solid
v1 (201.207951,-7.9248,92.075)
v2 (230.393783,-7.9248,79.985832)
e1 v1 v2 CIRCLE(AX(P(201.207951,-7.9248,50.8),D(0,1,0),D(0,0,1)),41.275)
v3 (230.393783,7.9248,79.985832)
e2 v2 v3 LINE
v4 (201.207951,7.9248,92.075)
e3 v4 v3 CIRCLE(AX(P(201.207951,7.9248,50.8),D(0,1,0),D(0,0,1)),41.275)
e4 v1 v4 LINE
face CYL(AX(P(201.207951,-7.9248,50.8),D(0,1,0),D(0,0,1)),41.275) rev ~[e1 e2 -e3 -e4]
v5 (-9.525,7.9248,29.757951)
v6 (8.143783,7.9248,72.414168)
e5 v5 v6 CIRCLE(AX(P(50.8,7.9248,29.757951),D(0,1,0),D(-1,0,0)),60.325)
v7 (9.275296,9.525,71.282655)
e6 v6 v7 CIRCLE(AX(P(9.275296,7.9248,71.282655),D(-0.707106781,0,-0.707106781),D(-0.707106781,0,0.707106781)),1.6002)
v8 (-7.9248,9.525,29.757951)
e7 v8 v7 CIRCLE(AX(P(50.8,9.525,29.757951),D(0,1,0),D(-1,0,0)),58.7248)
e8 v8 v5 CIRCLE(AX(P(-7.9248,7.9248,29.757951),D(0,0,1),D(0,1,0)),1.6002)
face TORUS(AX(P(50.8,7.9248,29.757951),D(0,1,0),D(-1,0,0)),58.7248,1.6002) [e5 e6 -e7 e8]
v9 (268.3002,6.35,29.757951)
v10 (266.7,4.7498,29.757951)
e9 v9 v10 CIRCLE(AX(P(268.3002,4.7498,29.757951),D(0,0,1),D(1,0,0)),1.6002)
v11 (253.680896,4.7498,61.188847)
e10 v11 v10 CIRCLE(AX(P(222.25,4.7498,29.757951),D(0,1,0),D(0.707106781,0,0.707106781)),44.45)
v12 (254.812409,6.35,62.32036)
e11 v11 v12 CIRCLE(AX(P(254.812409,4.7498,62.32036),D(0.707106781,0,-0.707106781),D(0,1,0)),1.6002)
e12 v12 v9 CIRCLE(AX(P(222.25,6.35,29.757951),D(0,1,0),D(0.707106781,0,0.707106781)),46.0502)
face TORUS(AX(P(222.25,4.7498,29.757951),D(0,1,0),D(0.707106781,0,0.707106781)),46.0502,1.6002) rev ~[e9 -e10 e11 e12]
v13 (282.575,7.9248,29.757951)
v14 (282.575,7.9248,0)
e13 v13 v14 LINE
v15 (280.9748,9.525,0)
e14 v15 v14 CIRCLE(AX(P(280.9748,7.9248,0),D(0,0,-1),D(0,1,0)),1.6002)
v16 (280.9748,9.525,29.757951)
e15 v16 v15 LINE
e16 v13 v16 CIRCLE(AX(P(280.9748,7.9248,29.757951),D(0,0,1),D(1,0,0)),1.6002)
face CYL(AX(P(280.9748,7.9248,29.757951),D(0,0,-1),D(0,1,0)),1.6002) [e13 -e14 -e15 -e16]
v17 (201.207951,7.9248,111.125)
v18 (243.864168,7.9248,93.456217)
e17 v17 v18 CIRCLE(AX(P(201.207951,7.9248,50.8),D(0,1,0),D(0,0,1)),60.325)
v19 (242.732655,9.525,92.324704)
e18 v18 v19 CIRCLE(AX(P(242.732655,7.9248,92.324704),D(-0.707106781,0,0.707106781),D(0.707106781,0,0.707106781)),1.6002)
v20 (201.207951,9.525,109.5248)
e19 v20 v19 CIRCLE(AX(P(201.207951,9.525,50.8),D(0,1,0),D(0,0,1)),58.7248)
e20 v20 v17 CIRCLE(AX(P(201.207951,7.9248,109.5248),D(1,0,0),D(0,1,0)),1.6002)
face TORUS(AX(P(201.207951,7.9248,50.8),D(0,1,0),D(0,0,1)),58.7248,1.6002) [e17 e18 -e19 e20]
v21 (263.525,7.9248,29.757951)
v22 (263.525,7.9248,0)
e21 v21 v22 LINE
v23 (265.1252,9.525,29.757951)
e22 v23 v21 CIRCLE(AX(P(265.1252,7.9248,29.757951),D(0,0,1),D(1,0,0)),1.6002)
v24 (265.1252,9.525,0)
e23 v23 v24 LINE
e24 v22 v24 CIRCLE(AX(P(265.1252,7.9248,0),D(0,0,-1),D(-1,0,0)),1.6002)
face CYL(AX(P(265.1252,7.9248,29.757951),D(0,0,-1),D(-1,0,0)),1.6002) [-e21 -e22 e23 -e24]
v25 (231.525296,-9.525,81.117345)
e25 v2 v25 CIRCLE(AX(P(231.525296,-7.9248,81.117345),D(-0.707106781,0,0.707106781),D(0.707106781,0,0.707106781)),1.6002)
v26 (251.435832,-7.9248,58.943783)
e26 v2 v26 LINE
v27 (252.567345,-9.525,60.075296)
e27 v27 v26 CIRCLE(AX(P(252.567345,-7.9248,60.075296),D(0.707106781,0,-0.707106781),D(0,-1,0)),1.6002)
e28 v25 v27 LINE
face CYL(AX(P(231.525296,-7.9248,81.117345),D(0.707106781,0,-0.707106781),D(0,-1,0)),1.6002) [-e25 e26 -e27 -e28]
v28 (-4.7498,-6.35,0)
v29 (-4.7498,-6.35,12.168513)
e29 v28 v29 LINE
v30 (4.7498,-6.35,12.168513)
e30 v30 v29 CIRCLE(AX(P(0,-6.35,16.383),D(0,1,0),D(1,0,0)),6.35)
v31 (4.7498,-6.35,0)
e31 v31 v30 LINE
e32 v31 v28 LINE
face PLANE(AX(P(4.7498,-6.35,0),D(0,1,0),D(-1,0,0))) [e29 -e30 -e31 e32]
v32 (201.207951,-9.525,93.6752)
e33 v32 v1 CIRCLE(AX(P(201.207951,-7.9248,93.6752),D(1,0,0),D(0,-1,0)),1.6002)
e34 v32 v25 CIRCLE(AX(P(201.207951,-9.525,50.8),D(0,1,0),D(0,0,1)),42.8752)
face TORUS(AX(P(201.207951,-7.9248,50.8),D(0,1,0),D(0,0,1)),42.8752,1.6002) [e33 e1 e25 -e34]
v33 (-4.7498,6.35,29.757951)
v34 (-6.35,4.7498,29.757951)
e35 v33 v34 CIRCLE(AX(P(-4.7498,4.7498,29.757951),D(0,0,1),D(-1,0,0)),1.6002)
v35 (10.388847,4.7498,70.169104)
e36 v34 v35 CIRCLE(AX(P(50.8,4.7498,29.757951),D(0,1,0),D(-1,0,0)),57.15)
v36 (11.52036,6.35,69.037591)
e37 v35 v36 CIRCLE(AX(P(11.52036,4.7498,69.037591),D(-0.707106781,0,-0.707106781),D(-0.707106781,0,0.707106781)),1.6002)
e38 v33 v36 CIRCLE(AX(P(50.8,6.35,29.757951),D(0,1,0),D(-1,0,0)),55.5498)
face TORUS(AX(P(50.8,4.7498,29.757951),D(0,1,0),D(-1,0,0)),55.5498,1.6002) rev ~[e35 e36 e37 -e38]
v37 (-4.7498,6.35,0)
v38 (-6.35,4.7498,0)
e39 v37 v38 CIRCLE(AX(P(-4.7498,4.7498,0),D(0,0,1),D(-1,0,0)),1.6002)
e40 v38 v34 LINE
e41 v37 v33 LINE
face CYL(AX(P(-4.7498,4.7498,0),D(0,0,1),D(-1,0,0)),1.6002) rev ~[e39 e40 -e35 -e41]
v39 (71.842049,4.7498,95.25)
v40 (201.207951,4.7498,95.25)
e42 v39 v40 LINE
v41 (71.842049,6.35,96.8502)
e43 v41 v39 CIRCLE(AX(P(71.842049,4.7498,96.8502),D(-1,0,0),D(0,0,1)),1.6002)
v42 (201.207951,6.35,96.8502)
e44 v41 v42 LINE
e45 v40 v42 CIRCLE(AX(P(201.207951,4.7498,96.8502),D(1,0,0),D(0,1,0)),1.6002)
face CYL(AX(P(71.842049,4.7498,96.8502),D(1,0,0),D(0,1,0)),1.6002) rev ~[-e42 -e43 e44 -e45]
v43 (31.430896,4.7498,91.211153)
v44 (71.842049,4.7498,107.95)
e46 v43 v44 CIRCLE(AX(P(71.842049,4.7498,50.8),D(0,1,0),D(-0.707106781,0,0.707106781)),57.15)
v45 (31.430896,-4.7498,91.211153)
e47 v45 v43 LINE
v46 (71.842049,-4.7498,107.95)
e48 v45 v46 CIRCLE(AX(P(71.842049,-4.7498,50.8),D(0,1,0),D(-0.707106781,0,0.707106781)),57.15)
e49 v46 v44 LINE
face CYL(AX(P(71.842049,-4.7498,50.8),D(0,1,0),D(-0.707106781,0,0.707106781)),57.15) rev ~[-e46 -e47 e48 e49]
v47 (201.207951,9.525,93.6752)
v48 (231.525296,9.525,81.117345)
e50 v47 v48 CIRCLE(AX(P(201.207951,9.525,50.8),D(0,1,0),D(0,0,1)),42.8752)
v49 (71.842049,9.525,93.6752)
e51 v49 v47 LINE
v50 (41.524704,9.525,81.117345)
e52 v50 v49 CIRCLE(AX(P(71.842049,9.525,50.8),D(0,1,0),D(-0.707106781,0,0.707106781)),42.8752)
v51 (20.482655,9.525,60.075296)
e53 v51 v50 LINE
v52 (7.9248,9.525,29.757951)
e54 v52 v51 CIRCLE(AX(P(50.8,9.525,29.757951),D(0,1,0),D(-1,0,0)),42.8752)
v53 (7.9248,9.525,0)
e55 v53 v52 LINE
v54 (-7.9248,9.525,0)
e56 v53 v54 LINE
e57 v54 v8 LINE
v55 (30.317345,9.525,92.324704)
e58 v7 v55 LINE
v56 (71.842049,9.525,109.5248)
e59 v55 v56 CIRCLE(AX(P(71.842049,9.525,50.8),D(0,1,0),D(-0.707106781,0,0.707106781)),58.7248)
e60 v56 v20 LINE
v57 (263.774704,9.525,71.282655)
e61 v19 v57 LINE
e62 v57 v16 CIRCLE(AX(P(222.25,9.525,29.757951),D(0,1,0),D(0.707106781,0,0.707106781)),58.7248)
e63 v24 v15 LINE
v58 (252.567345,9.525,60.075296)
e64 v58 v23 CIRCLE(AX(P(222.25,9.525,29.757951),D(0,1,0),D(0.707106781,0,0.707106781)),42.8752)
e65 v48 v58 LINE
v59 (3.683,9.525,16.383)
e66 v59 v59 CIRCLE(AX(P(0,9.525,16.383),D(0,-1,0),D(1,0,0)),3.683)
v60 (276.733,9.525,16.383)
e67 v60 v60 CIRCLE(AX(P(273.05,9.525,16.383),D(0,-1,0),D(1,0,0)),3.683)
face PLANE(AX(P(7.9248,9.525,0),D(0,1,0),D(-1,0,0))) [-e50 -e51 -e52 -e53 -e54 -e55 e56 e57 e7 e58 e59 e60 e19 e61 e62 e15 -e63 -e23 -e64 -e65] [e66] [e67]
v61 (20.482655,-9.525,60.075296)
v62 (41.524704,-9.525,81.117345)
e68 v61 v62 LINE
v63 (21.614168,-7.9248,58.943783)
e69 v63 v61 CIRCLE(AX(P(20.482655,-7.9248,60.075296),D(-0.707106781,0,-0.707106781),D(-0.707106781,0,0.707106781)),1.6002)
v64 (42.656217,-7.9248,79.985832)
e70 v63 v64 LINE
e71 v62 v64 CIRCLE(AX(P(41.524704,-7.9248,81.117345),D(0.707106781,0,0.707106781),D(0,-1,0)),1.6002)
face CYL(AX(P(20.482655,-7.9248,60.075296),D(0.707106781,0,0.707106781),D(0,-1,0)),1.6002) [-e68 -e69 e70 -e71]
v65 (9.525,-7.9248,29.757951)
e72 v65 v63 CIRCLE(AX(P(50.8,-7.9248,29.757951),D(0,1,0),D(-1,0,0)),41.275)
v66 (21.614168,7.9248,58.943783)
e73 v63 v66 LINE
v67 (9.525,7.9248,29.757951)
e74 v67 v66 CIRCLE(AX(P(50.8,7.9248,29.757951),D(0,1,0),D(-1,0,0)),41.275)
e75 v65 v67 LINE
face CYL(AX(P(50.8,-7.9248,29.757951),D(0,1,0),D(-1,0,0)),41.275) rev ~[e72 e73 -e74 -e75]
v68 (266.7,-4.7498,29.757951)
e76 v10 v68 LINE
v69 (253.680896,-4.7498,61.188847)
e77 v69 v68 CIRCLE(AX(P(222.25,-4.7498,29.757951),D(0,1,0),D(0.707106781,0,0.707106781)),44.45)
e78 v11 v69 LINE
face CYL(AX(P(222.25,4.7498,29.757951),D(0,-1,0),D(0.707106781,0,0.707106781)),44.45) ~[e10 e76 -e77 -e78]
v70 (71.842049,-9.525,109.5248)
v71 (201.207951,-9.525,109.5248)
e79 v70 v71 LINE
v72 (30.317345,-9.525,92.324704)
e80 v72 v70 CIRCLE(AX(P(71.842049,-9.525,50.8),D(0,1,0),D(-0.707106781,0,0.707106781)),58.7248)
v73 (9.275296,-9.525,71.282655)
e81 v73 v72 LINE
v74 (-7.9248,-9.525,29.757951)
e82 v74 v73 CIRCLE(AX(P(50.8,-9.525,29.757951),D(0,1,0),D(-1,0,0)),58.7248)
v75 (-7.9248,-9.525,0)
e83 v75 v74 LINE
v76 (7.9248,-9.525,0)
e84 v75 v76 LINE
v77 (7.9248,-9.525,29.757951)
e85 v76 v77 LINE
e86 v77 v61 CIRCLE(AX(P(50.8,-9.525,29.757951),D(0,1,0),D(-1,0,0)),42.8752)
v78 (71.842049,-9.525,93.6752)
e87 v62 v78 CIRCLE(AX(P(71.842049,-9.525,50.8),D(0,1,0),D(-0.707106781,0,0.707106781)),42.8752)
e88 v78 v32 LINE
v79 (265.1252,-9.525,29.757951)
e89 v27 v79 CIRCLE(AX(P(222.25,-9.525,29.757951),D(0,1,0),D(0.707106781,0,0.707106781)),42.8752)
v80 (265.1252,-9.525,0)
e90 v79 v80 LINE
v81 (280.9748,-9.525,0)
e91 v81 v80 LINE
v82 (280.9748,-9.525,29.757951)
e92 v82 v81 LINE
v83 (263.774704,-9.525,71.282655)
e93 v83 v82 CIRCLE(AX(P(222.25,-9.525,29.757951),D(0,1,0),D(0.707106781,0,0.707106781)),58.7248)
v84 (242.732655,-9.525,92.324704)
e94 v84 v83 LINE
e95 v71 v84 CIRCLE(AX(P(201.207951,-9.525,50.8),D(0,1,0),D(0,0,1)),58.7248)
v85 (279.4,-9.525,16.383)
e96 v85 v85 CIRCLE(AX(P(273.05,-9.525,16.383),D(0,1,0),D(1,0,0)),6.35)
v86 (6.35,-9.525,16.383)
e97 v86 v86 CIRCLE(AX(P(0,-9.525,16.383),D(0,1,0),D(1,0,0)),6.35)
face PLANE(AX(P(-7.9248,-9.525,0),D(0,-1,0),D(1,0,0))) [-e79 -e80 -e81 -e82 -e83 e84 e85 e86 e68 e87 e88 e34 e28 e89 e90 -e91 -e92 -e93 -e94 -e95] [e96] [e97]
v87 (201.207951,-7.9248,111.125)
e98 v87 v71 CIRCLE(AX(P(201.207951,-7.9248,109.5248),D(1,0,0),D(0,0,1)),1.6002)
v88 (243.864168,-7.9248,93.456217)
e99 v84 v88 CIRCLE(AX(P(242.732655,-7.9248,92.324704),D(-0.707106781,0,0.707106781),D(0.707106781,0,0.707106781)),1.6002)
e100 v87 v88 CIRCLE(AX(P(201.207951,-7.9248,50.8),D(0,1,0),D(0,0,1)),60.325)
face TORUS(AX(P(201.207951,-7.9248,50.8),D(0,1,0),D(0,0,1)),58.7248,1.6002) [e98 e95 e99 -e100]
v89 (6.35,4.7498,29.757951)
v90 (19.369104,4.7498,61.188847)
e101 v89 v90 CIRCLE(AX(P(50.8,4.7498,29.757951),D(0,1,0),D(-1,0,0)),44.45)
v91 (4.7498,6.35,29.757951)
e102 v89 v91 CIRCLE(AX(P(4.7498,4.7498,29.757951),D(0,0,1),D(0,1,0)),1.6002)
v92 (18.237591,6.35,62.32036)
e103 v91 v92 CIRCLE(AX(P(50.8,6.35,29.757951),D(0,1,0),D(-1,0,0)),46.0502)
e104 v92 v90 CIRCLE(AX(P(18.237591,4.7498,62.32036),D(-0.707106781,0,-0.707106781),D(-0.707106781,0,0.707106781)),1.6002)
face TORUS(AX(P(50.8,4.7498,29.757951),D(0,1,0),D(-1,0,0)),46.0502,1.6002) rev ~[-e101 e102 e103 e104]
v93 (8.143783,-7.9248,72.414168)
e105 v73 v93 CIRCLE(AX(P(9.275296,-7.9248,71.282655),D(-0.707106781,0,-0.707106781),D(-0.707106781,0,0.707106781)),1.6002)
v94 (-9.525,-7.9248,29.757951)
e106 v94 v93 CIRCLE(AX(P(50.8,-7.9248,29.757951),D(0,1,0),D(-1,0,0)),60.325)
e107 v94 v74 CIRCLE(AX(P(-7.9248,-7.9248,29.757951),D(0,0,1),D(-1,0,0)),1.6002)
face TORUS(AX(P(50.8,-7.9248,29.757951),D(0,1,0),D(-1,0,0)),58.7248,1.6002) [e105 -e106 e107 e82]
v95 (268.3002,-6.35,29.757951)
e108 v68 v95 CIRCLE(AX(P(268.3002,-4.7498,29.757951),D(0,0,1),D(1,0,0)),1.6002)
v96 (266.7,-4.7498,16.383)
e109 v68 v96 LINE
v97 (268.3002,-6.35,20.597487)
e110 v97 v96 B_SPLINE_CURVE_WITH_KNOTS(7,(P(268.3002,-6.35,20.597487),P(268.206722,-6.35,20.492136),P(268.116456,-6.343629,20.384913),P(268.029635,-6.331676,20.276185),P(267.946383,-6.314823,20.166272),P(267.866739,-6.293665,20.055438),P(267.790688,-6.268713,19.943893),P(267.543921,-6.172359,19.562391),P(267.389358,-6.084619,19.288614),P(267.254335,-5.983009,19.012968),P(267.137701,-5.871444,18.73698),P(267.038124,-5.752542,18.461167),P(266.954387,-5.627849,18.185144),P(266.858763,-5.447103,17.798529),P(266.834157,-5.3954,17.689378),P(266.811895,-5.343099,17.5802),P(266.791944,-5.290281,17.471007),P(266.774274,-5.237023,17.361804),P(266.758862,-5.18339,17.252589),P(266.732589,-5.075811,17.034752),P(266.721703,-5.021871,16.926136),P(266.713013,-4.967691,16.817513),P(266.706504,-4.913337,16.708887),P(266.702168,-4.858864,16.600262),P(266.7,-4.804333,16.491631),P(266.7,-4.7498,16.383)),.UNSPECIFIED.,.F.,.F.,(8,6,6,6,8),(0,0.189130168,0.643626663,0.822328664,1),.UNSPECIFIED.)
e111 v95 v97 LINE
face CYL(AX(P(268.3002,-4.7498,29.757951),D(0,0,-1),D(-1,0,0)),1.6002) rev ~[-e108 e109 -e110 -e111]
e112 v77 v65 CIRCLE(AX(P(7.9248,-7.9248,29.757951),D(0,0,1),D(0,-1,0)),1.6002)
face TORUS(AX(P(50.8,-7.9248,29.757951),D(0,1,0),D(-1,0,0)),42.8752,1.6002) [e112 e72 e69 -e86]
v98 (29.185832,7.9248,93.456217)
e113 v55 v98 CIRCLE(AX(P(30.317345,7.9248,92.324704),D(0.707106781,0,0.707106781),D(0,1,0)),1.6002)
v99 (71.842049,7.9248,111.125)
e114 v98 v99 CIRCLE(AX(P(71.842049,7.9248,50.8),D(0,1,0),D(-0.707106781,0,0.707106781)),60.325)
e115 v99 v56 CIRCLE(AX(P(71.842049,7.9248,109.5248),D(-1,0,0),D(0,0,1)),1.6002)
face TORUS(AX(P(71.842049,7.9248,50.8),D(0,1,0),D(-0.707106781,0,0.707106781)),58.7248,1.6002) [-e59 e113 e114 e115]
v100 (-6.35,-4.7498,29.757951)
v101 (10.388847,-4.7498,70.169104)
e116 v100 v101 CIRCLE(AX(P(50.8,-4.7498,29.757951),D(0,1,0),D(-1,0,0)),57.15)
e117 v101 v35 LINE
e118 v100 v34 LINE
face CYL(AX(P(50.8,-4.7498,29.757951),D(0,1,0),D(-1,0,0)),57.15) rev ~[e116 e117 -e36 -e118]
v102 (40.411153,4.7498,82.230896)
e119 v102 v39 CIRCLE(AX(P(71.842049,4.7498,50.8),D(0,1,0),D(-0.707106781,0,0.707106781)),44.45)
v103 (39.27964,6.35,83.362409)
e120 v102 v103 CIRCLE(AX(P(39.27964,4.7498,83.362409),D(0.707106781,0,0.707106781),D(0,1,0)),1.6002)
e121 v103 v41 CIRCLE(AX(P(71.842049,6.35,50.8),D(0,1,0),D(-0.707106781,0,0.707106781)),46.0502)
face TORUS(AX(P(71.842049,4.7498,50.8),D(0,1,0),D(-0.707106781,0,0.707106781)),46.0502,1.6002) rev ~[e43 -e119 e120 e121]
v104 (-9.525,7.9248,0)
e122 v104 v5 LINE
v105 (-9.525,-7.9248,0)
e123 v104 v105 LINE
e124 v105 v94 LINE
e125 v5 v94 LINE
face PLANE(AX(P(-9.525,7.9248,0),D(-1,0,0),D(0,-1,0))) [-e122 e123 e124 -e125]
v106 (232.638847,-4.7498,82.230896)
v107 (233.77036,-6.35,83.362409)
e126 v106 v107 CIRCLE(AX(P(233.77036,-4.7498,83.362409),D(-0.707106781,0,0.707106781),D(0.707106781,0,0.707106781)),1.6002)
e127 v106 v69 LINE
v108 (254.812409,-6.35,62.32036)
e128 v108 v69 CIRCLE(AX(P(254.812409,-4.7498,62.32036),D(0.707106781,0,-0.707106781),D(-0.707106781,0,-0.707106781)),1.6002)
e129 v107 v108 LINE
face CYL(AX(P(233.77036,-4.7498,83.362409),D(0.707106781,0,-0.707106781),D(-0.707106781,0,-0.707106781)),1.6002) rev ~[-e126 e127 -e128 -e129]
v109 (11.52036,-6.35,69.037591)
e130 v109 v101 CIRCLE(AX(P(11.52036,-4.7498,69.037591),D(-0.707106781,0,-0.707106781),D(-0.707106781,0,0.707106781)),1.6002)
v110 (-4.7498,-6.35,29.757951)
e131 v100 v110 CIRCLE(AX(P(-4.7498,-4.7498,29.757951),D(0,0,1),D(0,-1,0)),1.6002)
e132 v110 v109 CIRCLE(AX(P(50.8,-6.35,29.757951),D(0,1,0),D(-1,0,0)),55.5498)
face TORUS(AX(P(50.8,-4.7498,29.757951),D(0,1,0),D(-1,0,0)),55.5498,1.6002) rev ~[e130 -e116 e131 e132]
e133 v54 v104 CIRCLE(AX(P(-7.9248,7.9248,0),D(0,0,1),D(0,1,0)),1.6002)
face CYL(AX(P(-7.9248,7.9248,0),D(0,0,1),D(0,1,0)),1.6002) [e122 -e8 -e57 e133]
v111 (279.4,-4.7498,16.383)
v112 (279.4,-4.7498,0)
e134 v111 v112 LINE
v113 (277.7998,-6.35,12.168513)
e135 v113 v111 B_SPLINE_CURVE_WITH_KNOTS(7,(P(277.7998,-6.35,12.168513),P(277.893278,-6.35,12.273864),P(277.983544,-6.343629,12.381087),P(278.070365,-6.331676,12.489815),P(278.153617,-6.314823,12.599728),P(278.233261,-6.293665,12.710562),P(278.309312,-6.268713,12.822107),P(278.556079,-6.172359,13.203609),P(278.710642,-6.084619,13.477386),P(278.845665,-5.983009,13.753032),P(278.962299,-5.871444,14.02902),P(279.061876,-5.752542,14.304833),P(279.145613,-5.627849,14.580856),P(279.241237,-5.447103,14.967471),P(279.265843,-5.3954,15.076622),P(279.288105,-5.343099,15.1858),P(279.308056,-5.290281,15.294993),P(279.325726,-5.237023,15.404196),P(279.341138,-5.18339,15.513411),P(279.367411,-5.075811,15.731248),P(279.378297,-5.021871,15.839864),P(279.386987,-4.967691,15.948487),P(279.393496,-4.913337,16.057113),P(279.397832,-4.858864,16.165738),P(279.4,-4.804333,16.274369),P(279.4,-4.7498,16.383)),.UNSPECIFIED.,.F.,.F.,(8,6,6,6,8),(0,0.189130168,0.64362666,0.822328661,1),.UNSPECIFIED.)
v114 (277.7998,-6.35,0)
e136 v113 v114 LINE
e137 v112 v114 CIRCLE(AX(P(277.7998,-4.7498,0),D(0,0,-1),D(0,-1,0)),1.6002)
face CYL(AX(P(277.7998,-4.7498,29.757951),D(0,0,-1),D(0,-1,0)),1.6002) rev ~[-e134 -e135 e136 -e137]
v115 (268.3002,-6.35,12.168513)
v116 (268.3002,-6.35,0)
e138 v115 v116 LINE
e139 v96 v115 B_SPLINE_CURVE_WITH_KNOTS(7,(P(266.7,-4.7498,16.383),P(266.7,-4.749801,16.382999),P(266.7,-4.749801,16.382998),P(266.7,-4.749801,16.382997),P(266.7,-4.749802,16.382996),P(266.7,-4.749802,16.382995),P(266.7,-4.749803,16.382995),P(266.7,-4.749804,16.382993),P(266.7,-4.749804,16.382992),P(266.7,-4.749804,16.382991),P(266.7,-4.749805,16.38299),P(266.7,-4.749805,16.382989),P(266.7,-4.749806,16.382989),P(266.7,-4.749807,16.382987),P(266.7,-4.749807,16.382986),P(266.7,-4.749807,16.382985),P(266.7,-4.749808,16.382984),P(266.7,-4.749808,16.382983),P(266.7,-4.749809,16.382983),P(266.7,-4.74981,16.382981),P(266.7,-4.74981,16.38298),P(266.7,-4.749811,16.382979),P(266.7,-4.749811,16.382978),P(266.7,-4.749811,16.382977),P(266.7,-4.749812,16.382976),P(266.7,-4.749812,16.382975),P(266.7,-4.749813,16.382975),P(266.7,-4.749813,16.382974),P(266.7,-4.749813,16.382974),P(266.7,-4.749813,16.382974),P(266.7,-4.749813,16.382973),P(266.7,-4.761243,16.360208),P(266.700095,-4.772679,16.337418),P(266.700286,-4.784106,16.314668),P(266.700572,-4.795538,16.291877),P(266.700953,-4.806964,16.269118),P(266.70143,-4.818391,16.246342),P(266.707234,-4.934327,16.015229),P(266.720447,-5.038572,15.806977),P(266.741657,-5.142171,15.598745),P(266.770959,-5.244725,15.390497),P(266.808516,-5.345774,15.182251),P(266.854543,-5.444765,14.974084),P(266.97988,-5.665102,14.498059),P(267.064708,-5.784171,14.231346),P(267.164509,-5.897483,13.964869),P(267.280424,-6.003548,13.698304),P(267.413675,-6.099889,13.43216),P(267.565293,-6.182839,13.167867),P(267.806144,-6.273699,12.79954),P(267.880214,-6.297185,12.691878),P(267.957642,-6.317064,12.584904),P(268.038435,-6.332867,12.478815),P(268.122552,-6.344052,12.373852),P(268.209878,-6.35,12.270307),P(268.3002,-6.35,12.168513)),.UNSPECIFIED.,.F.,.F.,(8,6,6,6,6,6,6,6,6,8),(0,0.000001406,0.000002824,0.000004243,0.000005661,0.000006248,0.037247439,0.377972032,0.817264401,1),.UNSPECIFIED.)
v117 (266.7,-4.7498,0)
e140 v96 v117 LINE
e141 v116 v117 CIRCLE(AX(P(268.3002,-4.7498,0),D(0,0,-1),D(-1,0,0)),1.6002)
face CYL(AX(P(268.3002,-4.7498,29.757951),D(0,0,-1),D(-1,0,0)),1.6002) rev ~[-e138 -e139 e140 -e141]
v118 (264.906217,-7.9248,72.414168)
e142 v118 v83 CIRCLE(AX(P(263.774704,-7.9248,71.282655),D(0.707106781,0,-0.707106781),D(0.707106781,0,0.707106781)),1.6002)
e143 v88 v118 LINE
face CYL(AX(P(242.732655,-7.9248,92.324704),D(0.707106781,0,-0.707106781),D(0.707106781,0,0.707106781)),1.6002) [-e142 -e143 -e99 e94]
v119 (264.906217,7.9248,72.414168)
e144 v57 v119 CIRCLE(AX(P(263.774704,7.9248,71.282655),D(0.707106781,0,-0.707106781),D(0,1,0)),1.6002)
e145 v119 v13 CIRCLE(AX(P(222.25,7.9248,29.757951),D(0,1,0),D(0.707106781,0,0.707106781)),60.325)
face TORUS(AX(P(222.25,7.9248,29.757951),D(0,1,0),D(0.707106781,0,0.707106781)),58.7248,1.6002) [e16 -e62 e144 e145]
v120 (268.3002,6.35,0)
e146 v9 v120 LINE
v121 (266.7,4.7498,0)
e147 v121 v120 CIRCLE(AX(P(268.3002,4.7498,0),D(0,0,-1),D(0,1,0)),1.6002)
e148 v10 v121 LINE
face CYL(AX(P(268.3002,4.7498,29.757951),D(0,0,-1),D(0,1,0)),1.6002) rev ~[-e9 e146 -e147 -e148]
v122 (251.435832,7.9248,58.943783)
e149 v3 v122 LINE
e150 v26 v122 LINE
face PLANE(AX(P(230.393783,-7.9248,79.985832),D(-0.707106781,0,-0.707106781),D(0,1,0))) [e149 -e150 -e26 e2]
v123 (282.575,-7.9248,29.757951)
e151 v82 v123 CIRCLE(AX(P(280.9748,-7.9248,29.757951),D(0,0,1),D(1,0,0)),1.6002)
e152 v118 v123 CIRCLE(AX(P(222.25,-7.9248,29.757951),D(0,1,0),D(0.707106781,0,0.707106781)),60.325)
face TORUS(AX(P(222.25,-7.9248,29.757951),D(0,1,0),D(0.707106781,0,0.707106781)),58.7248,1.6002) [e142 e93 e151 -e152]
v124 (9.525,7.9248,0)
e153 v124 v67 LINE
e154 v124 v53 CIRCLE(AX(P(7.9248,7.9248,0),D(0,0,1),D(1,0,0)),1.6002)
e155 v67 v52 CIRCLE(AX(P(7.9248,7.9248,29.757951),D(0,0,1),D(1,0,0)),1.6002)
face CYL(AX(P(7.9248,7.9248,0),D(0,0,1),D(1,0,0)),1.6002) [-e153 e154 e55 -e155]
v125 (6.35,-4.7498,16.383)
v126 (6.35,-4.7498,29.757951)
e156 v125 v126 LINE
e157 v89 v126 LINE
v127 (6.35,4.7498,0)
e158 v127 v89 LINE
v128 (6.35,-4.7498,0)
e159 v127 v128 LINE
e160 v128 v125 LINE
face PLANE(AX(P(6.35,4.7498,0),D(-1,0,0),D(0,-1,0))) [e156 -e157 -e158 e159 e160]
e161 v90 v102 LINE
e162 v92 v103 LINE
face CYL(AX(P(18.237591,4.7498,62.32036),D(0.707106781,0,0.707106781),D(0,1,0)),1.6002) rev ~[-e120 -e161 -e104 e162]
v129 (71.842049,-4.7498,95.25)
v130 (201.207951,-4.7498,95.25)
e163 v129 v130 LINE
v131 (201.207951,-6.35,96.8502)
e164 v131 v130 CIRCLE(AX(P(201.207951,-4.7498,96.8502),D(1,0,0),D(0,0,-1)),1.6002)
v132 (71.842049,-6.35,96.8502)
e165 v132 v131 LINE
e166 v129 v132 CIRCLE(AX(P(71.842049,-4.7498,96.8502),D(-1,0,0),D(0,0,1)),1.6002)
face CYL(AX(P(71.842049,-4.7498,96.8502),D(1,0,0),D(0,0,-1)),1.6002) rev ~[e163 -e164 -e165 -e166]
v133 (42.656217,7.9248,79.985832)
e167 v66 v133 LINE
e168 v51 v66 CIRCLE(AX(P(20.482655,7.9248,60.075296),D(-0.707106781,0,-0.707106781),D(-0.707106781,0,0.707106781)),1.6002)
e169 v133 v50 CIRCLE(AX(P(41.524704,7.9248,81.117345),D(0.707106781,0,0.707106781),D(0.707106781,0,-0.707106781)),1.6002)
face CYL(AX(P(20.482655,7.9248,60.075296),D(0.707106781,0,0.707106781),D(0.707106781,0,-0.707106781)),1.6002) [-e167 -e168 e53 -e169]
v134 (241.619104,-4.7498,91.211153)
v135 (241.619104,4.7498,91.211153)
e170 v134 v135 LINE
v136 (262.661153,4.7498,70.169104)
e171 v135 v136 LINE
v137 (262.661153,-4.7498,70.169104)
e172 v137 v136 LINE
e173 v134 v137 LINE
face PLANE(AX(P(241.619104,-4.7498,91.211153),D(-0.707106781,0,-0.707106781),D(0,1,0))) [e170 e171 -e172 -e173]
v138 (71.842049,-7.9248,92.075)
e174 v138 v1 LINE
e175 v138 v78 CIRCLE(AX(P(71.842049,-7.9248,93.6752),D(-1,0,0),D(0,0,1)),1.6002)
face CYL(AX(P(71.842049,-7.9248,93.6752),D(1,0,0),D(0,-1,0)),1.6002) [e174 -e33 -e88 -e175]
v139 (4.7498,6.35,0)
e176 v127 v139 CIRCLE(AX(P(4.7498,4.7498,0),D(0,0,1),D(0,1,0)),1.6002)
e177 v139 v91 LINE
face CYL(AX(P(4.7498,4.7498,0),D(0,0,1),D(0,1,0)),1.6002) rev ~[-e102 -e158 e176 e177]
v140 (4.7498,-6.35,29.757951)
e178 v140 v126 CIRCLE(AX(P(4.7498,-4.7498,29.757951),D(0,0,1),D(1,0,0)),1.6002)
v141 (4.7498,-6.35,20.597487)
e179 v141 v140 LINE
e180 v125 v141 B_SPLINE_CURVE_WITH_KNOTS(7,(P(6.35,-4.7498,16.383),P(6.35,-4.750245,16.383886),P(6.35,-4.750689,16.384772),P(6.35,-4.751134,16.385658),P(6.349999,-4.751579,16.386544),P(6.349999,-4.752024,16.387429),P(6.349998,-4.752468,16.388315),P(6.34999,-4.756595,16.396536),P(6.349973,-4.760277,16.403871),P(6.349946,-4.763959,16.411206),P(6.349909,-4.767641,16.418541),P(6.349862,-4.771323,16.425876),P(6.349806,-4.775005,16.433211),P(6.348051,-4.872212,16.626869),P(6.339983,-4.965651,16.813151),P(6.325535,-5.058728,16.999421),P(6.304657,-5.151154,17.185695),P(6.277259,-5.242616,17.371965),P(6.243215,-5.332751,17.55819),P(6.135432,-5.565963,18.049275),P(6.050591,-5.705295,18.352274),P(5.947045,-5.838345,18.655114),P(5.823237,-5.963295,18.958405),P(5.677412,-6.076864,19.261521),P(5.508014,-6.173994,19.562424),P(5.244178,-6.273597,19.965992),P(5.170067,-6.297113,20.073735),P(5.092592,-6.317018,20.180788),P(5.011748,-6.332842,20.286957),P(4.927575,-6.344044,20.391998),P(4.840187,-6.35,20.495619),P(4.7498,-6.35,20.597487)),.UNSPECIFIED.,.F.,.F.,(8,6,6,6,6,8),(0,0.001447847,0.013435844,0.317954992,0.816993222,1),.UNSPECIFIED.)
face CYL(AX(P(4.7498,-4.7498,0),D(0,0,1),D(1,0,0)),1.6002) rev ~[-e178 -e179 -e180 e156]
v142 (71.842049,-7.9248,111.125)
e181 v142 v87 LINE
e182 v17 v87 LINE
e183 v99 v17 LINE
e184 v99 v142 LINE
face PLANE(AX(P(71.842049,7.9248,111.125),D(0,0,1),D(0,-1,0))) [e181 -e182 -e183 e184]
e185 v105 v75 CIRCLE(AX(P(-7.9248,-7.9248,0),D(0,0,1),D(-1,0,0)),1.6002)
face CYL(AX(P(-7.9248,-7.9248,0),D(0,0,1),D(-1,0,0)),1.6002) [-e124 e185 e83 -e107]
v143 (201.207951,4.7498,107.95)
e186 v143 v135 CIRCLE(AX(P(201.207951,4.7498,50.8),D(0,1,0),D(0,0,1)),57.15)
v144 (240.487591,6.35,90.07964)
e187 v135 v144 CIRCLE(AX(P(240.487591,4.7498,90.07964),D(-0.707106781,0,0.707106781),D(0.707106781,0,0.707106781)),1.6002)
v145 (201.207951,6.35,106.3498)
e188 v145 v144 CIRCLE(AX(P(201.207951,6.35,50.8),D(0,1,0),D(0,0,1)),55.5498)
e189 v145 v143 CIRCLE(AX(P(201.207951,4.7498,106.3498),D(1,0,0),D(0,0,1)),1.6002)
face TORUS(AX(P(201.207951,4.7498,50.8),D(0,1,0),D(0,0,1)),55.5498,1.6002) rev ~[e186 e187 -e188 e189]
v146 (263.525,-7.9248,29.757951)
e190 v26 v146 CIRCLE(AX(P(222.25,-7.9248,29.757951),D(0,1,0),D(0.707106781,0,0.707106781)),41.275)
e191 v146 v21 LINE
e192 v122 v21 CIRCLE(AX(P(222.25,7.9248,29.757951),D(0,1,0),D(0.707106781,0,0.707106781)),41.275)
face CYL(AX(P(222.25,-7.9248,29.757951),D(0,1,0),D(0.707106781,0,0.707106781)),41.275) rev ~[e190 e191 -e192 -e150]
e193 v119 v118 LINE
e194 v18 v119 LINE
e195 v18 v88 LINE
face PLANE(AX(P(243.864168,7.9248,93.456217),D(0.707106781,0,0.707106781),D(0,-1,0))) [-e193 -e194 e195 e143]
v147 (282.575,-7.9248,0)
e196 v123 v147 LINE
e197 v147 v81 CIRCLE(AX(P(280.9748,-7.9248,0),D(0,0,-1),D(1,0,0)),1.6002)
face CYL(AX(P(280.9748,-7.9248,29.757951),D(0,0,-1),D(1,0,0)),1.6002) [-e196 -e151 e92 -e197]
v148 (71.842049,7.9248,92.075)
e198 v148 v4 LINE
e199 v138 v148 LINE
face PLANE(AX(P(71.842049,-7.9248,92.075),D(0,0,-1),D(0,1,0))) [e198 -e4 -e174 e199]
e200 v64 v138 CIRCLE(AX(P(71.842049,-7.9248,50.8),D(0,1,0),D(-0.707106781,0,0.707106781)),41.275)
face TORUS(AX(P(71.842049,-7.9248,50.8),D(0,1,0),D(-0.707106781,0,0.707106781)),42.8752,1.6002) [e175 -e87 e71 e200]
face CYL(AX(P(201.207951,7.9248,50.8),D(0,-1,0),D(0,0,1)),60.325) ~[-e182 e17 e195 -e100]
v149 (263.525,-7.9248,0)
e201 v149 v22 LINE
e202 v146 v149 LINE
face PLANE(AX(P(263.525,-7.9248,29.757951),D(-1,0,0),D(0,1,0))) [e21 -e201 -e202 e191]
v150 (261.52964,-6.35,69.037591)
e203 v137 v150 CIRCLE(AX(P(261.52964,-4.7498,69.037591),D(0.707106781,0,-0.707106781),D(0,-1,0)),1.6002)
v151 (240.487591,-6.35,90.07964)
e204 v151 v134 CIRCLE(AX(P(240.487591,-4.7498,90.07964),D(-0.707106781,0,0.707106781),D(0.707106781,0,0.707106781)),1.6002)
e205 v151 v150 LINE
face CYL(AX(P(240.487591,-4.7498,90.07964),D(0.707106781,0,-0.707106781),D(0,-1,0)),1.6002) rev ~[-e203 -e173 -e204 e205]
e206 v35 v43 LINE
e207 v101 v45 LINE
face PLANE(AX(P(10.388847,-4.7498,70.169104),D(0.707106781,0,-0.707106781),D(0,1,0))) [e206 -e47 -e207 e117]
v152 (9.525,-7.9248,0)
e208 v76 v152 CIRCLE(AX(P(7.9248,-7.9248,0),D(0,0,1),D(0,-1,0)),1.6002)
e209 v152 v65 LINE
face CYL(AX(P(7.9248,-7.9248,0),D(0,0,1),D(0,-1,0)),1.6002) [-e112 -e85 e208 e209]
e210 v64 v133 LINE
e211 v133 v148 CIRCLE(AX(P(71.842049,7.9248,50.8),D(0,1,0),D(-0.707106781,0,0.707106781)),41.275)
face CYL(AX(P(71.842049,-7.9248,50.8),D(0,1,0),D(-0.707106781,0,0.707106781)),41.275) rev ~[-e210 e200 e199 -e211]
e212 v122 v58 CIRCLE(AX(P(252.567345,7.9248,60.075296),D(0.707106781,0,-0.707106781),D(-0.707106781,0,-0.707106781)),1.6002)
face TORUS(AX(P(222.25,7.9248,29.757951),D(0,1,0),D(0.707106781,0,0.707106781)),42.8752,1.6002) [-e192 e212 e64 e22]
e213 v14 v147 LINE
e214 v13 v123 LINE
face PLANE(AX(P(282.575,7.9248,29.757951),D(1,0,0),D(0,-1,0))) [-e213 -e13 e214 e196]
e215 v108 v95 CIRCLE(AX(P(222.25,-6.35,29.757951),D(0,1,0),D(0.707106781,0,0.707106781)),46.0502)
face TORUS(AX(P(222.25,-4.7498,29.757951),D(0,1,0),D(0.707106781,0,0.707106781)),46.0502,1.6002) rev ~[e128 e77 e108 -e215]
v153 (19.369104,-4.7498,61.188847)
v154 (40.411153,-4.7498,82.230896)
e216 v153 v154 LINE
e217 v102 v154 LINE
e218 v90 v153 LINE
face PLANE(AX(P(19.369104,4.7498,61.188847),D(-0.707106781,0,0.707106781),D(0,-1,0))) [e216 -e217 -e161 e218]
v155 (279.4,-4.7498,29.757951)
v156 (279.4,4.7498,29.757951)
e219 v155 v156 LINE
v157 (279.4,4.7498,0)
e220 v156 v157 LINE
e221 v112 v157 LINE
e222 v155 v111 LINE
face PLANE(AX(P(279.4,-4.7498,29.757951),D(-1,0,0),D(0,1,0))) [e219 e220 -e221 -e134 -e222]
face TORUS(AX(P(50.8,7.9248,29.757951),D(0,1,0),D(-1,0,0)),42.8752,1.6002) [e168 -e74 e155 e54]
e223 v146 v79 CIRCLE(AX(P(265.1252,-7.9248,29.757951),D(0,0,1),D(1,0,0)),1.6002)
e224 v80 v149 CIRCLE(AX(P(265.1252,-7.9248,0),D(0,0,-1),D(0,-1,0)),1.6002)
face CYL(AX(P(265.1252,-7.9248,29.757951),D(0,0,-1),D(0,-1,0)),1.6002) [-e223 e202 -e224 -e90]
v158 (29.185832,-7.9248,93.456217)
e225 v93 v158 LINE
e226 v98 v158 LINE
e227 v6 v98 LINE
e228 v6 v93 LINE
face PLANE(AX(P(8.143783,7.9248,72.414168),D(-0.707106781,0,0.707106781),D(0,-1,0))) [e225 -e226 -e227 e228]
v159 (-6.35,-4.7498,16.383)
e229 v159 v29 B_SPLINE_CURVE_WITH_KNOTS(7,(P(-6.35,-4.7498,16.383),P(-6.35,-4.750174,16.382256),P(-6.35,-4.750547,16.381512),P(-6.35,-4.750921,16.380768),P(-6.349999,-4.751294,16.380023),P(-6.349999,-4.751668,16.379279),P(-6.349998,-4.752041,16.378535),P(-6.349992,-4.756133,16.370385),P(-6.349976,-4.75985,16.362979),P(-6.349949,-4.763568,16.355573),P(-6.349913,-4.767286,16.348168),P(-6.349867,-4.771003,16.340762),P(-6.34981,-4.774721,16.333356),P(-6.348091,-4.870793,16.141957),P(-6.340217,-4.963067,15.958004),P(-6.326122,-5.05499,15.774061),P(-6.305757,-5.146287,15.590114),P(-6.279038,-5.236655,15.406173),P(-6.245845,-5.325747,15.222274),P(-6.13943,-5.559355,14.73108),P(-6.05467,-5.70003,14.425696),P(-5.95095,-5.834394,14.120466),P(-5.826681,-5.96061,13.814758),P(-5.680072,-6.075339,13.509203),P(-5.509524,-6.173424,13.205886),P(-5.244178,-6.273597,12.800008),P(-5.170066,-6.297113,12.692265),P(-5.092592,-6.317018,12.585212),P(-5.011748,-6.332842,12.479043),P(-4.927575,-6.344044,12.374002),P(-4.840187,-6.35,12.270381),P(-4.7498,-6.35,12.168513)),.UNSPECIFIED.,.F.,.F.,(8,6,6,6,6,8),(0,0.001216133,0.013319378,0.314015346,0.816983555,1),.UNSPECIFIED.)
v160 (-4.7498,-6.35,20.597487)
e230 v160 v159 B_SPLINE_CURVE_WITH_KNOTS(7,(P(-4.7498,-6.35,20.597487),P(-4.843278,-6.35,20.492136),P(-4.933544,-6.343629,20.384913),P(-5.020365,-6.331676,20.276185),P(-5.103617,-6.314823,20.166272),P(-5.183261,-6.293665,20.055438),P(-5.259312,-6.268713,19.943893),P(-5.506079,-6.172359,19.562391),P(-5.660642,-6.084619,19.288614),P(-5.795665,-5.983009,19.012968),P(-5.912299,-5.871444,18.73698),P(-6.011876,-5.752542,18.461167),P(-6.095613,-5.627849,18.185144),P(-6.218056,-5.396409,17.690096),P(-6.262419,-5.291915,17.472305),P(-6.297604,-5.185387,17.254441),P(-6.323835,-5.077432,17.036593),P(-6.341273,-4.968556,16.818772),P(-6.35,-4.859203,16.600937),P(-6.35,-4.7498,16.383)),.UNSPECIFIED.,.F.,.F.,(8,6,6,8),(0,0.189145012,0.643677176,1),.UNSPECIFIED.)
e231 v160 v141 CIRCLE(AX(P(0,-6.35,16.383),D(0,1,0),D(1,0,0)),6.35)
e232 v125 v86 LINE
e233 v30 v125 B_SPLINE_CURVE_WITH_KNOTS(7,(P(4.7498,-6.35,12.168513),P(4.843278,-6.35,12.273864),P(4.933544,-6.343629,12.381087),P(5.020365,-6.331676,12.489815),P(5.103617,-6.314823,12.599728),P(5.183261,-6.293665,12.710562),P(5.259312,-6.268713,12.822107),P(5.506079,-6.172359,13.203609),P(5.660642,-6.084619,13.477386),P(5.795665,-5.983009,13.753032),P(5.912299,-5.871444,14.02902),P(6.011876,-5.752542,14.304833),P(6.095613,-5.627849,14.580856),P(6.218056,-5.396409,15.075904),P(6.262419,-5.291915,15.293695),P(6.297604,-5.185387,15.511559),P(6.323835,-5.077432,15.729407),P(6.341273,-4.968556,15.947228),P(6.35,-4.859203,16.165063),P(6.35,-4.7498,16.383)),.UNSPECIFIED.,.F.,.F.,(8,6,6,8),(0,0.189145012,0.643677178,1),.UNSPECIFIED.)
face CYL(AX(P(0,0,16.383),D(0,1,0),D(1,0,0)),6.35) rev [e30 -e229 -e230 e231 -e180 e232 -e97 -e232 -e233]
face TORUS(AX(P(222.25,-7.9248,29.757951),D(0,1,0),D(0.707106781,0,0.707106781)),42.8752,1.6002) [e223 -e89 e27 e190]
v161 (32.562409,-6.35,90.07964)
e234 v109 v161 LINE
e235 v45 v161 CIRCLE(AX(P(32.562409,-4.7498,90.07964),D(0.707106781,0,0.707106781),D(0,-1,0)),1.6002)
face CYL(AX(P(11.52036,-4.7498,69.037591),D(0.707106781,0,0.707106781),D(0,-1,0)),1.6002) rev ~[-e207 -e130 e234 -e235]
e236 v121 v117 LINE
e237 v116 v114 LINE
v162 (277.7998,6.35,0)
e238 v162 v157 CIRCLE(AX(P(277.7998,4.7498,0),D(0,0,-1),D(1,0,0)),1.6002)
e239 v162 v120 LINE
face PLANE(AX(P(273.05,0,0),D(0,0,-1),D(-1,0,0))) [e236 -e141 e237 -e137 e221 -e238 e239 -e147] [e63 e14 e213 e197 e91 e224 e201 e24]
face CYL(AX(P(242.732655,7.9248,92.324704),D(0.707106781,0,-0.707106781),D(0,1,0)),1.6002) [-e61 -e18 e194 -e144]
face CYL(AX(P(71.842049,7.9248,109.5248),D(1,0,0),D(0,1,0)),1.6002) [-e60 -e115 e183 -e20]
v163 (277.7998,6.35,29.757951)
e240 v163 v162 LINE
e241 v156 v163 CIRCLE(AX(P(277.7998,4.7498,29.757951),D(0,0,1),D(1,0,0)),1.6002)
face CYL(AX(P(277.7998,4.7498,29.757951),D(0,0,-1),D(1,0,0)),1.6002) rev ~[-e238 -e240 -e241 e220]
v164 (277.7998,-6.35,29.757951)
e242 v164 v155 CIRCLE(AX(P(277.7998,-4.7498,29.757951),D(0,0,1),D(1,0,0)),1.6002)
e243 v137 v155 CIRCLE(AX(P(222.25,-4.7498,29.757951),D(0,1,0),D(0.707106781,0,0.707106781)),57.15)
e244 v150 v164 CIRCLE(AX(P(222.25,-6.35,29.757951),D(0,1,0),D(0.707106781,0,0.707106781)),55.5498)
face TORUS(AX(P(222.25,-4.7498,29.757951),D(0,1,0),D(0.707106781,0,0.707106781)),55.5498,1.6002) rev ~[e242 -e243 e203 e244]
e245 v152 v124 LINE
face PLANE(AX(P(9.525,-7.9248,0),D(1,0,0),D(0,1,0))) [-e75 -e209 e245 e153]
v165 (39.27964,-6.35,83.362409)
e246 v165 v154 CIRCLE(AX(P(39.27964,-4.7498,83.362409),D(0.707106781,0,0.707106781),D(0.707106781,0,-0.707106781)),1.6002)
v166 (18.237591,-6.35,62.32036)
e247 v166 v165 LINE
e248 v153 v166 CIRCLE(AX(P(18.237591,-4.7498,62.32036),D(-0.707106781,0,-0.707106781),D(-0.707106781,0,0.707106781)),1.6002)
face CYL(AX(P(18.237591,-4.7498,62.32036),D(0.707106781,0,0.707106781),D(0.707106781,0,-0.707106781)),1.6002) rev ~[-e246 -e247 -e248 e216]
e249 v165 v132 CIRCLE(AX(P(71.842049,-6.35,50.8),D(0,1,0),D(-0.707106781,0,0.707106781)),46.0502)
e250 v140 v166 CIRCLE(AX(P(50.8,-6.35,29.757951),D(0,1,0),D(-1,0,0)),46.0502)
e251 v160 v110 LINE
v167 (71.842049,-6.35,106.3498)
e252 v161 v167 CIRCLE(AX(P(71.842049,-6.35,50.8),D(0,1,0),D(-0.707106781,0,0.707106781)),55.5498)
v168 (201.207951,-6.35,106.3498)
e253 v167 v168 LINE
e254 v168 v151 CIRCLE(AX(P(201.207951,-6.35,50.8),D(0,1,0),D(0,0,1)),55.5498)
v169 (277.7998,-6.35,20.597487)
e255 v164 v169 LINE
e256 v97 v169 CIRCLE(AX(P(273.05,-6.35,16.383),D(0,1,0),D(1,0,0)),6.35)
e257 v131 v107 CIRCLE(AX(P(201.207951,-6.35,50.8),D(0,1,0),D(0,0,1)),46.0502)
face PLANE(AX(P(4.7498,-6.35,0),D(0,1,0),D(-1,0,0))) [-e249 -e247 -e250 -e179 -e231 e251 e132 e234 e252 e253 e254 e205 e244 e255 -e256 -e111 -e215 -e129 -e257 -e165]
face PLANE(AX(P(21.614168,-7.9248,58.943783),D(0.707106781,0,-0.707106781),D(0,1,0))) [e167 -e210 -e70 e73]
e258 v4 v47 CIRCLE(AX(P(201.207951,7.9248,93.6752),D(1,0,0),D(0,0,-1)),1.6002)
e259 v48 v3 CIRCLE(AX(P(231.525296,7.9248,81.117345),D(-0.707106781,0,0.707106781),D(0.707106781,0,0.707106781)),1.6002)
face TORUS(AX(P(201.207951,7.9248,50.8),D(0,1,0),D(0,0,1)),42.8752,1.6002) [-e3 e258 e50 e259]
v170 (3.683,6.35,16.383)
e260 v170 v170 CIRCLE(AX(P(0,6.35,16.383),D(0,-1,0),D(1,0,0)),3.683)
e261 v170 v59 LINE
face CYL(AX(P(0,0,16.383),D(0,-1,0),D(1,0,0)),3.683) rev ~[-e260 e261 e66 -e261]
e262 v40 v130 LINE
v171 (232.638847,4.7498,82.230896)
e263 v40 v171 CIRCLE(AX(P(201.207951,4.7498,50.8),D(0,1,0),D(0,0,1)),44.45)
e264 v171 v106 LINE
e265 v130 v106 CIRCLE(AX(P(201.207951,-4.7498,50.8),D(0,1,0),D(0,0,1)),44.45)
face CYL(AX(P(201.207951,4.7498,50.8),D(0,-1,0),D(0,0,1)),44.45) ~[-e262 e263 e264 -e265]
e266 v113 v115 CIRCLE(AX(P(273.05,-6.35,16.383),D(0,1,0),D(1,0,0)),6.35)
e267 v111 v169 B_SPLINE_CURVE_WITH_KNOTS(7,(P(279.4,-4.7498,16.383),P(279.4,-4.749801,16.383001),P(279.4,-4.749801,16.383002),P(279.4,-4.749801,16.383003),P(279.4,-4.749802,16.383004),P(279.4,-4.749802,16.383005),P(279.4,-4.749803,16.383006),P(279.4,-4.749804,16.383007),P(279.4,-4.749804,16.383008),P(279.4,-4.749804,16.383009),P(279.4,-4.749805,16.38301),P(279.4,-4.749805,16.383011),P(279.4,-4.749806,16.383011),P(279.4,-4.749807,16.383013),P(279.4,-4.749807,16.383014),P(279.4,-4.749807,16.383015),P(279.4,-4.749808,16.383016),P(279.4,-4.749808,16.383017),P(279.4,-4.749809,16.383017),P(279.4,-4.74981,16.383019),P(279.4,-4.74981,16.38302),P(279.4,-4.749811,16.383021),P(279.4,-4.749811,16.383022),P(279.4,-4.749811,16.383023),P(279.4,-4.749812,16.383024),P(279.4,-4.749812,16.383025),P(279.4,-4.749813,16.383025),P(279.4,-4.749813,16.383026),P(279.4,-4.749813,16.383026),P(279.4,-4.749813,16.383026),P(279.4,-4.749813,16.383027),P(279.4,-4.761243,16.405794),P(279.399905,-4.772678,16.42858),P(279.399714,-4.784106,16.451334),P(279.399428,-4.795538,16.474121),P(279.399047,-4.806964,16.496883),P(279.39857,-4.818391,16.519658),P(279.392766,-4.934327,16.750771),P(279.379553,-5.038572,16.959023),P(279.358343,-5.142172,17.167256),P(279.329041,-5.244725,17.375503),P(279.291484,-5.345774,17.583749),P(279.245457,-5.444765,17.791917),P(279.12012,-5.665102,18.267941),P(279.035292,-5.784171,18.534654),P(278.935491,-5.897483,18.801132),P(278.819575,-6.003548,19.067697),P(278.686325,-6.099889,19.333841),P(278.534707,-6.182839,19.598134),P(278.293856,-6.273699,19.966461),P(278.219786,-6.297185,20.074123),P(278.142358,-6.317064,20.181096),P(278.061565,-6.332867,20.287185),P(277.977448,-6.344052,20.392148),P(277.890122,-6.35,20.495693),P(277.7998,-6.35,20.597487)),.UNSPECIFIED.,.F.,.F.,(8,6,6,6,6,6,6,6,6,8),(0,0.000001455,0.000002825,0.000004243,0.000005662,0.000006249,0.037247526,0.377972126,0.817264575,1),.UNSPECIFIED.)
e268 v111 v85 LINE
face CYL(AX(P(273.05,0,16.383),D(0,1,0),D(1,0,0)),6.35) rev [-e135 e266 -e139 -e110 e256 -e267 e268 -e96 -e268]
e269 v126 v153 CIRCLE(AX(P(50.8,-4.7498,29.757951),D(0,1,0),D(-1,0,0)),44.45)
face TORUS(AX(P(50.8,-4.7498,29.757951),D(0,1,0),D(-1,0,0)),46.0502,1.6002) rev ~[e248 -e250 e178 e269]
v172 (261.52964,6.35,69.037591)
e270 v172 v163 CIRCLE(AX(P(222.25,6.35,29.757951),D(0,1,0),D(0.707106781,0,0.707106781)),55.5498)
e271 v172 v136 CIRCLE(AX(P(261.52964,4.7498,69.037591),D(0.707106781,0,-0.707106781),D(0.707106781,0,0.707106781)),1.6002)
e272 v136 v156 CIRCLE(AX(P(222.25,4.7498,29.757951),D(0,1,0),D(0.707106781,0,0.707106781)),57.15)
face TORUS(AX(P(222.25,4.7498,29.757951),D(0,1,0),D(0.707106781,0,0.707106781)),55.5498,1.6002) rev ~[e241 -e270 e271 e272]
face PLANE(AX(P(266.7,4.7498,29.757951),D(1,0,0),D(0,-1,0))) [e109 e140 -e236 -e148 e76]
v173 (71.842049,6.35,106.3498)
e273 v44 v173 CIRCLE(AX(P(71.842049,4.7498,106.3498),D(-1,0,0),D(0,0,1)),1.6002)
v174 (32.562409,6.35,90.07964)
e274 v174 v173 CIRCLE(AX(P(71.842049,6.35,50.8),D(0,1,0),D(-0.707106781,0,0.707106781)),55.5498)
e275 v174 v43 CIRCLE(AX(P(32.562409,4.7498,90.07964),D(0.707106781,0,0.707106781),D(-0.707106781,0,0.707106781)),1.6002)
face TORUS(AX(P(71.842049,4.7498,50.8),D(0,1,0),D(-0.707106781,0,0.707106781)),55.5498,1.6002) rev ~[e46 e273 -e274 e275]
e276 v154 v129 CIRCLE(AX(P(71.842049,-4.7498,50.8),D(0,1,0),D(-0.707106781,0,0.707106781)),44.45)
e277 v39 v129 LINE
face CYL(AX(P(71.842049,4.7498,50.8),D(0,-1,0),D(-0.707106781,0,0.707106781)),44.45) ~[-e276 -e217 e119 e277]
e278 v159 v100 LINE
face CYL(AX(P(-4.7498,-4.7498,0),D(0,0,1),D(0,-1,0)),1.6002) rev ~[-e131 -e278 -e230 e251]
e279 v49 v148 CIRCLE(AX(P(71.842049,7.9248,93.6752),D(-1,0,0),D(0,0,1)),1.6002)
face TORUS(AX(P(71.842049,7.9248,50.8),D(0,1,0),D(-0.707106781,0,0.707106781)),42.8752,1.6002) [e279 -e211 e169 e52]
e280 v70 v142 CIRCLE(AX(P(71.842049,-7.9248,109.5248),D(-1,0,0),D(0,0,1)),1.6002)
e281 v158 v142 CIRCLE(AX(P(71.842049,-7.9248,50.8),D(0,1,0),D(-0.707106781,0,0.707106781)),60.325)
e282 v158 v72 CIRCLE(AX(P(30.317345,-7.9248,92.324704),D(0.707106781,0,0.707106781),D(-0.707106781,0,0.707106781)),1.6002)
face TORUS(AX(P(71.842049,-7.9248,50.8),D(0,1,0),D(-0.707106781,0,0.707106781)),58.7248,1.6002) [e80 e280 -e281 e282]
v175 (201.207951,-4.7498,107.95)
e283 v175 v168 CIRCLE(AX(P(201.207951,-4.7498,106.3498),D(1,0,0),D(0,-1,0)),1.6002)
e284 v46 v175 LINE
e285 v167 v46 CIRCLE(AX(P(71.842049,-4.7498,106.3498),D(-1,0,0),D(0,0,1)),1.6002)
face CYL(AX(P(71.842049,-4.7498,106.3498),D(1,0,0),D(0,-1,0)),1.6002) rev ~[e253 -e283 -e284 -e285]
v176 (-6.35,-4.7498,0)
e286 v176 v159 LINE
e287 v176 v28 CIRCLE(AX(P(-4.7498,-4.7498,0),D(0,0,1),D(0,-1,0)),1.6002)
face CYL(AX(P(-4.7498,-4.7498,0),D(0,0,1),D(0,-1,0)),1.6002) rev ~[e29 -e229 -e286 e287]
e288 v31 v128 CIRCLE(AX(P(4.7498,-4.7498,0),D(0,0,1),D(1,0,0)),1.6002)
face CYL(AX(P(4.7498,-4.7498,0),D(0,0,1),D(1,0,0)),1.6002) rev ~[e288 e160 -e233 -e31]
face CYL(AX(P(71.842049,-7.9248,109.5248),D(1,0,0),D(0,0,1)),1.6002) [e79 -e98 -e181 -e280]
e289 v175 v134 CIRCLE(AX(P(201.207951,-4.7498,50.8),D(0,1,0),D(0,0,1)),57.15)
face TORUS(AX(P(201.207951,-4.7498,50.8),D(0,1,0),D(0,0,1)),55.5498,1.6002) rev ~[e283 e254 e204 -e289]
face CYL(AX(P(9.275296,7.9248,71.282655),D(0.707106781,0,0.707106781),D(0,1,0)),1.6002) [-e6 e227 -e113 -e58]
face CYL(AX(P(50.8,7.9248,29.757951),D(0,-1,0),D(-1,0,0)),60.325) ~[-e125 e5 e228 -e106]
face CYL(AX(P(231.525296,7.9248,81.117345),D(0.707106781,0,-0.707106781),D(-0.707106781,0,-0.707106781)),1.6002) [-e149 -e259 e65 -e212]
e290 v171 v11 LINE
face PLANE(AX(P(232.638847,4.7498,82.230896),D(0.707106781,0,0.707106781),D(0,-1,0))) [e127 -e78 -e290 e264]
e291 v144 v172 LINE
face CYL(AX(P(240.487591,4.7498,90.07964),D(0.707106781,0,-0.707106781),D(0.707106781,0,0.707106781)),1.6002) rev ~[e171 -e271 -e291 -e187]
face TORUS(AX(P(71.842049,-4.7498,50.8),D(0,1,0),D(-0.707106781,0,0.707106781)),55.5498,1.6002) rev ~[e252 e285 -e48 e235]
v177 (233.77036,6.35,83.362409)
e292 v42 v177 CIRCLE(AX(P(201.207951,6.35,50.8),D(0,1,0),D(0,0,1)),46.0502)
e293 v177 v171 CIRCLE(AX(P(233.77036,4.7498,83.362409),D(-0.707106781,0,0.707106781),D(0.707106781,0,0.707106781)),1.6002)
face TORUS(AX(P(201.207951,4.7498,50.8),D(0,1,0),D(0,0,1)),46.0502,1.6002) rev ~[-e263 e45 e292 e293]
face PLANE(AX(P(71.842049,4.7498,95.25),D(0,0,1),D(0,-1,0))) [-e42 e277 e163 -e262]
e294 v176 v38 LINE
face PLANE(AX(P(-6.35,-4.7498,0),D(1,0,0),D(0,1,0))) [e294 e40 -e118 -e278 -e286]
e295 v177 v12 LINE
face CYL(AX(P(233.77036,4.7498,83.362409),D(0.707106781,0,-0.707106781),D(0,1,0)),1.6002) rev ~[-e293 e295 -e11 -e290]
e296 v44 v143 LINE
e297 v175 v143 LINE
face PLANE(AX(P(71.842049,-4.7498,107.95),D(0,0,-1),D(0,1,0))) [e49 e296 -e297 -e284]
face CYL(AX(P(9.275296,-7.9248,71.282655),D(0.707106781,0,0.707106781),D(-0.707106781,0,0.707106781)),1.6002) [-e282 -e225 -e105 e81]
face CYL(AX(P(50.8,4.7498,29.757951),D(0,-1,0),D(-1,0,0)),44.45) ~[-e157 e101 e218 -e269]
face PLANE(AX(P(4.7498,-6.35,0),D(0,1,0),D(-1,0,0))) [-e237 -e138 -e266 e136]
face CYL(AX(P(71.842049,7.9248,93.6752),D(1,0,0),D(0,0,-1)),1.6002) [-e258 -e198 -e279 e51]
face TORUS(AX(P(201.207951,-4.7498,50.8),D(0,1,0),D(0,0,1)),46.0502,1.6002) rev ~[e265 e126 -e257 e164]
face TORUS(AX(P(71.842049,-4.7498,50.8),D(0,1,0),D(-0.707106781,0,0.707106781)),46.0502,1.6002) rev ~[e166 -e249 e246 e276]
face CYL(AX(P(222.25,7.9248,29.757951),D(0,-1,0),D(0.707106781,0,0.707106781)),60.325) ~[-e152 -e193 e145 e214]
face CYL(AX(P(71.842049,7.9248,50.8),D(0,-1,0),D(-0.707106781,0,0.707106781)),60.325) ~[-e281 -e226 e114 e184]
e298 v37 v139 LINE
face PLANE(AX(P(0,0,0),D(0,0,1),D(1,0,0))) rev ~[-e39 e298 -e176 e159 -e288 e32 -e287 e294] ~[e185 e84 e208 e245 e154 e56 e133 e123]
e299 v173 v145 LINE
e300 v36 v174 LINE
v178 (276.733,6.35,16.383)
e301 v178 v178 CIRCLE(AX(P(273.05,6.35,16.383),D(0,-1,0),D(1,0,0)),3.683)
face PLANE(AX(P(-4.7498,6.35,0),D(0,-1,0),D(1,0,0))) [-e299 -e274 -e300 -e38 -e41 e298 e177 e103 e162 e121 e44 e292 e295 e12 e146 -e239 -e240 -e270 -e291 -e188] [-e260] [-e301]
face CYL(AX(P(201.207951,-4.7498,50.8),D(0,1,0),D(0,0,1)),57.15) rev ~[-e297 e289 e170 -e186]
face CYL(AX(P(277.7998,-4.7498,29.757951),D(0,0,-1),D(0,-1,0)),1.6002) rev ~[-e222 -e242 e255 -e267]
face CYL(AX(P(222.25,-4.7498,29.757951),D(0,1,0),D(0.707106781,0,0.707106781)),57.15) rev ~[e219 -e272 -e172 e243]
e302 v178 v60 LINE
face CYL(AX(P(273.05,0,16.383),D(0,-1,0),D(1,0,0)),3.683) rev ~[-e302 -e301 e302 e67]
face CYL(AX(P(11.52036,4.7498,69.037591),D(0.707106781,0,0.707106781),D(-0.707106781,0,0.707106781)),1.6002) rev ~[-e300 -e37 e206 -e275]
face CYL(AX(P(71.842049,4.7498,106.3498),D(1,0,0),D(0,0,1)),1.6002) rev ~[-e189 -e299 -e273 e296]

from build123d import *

# Parameters (mm, degrees)
F3_R     = 3.683
F4_DEPTH = 25.4
F5_R     = 6.35
F6_DEPTH = 25.4


with BuildPart() as f2:
    # F2: sweep along a path in F0
    with BuildLine(Plane.XZ) as f2_path:
        Line((0, 0), (0, 29.7579510314))
        ThreePointArc((0, 29.7579510314), (3.8669197484, 49.1982693956), (14.8789755157, 65.6789755157))
        Line((14.8789755157, 65.6789755157), (35.9210244843, 86.7210244843))
        ThreePointArc((35.9210244843, 86.7210244843), (52.4017306044, 97.7330802516), (71.8420489686, 101.6))
        Line((71.8420489686, 101.6), (201.2079510314, 101.6))
        ThreePointArc((201.2079510314, 101.6), (220.6482693956, 97.7330802516), (237.1289755157, 86.7210244843))
        Line((237.1289755157, 86.7210244843), (258.1710244843, 65.6789755157))
        ThreePointArc((258.1710244843, 65.6789755157), (269.1830802516, 49.1982693956), (273.05, 29.7579510314))
        Line((273.05, 29.7579510314), (273.05, 0))
    # F1 (on Top) → F2 (sweep)
    with BuildSketch(Plane.XY):
        with BuildLine():
            ThreePointArc((-9.525, -7.9248), (-9.0563122713, -9.0563122713), (-7.9248, -9.525))
            Line((-7.9248, -9.525), (7.9248, -9.525))
            ThreePointArc((7.9248, -9.525), (9.0563122713, -9.0563122713), (9.525, -7.9248))
            Line((9.525, -7.9248), (9.525, 7.9248))
            ThreePointArc((9.525, 7.9248), (9.0563122713, 9.0563122713), (7.9248, 9.525))
            Line((7.9248, 9.525), (-7.9248, 9.525))
            ThreePointArc((-7.9248, 9.525), (-9.0563122713, 9.0563122713), (-9.525, 7.9248))
            Line((-9.525, 7.9248), (-9.525, -7.9248))
        make_face()
        with BuildLine():
            ThreePointArc((-6.35, 4.7498), (-5.8813122713, 5.8813122713), (-4.7498, 6.35))
            Line((-4.7498, 6.35), (4.7498, 6.35))
            ThreePointArc((4.7498, 6.35), (5.8813122713, 5.8813122713), (6.35, 4.7498))
            Line((6.35, 4.7498), (6.35, -4.7498))
            ThreePointArc((6.35, -4.7498), (5.8813122713, -5.8813122713), (4.7498, -6.35))
            Line((4.7498, -6.35), (-4.7498, -6.35))
            ThreePointArc((-4.7498, -6.35), (-5.8813122713, -5.8813122713), (-6.35, -4.7498))
            Line((-6.35, -4.7498), (-6.35, 4.7498))
        make_face(mode=Mode.SUBTRACT)
    sweep(path=f2_path.line)

    # F3 (on Front) → F4 (cut)
    with BuildSketch(Plane.XZ):
        with Locations((0, 16.383)):
            Circle(F3_R)
        with Locations((273.05, 16.383)):
            Circle(F3_R)
    extrude(amount=-F4_DEPTH, mode=Mode.SUBTRACT)

    # F5 (on Front) → F6 (cut)
    with BuildSketch(Plane.XZ):
        with Locations((273.05, 16.383)):
            Circle(F5_R)
        with Locations((0, 16.383)):
            Circle(F5_R)
    extrude(amount=F6_DEPTH, mode=Mode.SUBTRACT)


solid = f2.part
